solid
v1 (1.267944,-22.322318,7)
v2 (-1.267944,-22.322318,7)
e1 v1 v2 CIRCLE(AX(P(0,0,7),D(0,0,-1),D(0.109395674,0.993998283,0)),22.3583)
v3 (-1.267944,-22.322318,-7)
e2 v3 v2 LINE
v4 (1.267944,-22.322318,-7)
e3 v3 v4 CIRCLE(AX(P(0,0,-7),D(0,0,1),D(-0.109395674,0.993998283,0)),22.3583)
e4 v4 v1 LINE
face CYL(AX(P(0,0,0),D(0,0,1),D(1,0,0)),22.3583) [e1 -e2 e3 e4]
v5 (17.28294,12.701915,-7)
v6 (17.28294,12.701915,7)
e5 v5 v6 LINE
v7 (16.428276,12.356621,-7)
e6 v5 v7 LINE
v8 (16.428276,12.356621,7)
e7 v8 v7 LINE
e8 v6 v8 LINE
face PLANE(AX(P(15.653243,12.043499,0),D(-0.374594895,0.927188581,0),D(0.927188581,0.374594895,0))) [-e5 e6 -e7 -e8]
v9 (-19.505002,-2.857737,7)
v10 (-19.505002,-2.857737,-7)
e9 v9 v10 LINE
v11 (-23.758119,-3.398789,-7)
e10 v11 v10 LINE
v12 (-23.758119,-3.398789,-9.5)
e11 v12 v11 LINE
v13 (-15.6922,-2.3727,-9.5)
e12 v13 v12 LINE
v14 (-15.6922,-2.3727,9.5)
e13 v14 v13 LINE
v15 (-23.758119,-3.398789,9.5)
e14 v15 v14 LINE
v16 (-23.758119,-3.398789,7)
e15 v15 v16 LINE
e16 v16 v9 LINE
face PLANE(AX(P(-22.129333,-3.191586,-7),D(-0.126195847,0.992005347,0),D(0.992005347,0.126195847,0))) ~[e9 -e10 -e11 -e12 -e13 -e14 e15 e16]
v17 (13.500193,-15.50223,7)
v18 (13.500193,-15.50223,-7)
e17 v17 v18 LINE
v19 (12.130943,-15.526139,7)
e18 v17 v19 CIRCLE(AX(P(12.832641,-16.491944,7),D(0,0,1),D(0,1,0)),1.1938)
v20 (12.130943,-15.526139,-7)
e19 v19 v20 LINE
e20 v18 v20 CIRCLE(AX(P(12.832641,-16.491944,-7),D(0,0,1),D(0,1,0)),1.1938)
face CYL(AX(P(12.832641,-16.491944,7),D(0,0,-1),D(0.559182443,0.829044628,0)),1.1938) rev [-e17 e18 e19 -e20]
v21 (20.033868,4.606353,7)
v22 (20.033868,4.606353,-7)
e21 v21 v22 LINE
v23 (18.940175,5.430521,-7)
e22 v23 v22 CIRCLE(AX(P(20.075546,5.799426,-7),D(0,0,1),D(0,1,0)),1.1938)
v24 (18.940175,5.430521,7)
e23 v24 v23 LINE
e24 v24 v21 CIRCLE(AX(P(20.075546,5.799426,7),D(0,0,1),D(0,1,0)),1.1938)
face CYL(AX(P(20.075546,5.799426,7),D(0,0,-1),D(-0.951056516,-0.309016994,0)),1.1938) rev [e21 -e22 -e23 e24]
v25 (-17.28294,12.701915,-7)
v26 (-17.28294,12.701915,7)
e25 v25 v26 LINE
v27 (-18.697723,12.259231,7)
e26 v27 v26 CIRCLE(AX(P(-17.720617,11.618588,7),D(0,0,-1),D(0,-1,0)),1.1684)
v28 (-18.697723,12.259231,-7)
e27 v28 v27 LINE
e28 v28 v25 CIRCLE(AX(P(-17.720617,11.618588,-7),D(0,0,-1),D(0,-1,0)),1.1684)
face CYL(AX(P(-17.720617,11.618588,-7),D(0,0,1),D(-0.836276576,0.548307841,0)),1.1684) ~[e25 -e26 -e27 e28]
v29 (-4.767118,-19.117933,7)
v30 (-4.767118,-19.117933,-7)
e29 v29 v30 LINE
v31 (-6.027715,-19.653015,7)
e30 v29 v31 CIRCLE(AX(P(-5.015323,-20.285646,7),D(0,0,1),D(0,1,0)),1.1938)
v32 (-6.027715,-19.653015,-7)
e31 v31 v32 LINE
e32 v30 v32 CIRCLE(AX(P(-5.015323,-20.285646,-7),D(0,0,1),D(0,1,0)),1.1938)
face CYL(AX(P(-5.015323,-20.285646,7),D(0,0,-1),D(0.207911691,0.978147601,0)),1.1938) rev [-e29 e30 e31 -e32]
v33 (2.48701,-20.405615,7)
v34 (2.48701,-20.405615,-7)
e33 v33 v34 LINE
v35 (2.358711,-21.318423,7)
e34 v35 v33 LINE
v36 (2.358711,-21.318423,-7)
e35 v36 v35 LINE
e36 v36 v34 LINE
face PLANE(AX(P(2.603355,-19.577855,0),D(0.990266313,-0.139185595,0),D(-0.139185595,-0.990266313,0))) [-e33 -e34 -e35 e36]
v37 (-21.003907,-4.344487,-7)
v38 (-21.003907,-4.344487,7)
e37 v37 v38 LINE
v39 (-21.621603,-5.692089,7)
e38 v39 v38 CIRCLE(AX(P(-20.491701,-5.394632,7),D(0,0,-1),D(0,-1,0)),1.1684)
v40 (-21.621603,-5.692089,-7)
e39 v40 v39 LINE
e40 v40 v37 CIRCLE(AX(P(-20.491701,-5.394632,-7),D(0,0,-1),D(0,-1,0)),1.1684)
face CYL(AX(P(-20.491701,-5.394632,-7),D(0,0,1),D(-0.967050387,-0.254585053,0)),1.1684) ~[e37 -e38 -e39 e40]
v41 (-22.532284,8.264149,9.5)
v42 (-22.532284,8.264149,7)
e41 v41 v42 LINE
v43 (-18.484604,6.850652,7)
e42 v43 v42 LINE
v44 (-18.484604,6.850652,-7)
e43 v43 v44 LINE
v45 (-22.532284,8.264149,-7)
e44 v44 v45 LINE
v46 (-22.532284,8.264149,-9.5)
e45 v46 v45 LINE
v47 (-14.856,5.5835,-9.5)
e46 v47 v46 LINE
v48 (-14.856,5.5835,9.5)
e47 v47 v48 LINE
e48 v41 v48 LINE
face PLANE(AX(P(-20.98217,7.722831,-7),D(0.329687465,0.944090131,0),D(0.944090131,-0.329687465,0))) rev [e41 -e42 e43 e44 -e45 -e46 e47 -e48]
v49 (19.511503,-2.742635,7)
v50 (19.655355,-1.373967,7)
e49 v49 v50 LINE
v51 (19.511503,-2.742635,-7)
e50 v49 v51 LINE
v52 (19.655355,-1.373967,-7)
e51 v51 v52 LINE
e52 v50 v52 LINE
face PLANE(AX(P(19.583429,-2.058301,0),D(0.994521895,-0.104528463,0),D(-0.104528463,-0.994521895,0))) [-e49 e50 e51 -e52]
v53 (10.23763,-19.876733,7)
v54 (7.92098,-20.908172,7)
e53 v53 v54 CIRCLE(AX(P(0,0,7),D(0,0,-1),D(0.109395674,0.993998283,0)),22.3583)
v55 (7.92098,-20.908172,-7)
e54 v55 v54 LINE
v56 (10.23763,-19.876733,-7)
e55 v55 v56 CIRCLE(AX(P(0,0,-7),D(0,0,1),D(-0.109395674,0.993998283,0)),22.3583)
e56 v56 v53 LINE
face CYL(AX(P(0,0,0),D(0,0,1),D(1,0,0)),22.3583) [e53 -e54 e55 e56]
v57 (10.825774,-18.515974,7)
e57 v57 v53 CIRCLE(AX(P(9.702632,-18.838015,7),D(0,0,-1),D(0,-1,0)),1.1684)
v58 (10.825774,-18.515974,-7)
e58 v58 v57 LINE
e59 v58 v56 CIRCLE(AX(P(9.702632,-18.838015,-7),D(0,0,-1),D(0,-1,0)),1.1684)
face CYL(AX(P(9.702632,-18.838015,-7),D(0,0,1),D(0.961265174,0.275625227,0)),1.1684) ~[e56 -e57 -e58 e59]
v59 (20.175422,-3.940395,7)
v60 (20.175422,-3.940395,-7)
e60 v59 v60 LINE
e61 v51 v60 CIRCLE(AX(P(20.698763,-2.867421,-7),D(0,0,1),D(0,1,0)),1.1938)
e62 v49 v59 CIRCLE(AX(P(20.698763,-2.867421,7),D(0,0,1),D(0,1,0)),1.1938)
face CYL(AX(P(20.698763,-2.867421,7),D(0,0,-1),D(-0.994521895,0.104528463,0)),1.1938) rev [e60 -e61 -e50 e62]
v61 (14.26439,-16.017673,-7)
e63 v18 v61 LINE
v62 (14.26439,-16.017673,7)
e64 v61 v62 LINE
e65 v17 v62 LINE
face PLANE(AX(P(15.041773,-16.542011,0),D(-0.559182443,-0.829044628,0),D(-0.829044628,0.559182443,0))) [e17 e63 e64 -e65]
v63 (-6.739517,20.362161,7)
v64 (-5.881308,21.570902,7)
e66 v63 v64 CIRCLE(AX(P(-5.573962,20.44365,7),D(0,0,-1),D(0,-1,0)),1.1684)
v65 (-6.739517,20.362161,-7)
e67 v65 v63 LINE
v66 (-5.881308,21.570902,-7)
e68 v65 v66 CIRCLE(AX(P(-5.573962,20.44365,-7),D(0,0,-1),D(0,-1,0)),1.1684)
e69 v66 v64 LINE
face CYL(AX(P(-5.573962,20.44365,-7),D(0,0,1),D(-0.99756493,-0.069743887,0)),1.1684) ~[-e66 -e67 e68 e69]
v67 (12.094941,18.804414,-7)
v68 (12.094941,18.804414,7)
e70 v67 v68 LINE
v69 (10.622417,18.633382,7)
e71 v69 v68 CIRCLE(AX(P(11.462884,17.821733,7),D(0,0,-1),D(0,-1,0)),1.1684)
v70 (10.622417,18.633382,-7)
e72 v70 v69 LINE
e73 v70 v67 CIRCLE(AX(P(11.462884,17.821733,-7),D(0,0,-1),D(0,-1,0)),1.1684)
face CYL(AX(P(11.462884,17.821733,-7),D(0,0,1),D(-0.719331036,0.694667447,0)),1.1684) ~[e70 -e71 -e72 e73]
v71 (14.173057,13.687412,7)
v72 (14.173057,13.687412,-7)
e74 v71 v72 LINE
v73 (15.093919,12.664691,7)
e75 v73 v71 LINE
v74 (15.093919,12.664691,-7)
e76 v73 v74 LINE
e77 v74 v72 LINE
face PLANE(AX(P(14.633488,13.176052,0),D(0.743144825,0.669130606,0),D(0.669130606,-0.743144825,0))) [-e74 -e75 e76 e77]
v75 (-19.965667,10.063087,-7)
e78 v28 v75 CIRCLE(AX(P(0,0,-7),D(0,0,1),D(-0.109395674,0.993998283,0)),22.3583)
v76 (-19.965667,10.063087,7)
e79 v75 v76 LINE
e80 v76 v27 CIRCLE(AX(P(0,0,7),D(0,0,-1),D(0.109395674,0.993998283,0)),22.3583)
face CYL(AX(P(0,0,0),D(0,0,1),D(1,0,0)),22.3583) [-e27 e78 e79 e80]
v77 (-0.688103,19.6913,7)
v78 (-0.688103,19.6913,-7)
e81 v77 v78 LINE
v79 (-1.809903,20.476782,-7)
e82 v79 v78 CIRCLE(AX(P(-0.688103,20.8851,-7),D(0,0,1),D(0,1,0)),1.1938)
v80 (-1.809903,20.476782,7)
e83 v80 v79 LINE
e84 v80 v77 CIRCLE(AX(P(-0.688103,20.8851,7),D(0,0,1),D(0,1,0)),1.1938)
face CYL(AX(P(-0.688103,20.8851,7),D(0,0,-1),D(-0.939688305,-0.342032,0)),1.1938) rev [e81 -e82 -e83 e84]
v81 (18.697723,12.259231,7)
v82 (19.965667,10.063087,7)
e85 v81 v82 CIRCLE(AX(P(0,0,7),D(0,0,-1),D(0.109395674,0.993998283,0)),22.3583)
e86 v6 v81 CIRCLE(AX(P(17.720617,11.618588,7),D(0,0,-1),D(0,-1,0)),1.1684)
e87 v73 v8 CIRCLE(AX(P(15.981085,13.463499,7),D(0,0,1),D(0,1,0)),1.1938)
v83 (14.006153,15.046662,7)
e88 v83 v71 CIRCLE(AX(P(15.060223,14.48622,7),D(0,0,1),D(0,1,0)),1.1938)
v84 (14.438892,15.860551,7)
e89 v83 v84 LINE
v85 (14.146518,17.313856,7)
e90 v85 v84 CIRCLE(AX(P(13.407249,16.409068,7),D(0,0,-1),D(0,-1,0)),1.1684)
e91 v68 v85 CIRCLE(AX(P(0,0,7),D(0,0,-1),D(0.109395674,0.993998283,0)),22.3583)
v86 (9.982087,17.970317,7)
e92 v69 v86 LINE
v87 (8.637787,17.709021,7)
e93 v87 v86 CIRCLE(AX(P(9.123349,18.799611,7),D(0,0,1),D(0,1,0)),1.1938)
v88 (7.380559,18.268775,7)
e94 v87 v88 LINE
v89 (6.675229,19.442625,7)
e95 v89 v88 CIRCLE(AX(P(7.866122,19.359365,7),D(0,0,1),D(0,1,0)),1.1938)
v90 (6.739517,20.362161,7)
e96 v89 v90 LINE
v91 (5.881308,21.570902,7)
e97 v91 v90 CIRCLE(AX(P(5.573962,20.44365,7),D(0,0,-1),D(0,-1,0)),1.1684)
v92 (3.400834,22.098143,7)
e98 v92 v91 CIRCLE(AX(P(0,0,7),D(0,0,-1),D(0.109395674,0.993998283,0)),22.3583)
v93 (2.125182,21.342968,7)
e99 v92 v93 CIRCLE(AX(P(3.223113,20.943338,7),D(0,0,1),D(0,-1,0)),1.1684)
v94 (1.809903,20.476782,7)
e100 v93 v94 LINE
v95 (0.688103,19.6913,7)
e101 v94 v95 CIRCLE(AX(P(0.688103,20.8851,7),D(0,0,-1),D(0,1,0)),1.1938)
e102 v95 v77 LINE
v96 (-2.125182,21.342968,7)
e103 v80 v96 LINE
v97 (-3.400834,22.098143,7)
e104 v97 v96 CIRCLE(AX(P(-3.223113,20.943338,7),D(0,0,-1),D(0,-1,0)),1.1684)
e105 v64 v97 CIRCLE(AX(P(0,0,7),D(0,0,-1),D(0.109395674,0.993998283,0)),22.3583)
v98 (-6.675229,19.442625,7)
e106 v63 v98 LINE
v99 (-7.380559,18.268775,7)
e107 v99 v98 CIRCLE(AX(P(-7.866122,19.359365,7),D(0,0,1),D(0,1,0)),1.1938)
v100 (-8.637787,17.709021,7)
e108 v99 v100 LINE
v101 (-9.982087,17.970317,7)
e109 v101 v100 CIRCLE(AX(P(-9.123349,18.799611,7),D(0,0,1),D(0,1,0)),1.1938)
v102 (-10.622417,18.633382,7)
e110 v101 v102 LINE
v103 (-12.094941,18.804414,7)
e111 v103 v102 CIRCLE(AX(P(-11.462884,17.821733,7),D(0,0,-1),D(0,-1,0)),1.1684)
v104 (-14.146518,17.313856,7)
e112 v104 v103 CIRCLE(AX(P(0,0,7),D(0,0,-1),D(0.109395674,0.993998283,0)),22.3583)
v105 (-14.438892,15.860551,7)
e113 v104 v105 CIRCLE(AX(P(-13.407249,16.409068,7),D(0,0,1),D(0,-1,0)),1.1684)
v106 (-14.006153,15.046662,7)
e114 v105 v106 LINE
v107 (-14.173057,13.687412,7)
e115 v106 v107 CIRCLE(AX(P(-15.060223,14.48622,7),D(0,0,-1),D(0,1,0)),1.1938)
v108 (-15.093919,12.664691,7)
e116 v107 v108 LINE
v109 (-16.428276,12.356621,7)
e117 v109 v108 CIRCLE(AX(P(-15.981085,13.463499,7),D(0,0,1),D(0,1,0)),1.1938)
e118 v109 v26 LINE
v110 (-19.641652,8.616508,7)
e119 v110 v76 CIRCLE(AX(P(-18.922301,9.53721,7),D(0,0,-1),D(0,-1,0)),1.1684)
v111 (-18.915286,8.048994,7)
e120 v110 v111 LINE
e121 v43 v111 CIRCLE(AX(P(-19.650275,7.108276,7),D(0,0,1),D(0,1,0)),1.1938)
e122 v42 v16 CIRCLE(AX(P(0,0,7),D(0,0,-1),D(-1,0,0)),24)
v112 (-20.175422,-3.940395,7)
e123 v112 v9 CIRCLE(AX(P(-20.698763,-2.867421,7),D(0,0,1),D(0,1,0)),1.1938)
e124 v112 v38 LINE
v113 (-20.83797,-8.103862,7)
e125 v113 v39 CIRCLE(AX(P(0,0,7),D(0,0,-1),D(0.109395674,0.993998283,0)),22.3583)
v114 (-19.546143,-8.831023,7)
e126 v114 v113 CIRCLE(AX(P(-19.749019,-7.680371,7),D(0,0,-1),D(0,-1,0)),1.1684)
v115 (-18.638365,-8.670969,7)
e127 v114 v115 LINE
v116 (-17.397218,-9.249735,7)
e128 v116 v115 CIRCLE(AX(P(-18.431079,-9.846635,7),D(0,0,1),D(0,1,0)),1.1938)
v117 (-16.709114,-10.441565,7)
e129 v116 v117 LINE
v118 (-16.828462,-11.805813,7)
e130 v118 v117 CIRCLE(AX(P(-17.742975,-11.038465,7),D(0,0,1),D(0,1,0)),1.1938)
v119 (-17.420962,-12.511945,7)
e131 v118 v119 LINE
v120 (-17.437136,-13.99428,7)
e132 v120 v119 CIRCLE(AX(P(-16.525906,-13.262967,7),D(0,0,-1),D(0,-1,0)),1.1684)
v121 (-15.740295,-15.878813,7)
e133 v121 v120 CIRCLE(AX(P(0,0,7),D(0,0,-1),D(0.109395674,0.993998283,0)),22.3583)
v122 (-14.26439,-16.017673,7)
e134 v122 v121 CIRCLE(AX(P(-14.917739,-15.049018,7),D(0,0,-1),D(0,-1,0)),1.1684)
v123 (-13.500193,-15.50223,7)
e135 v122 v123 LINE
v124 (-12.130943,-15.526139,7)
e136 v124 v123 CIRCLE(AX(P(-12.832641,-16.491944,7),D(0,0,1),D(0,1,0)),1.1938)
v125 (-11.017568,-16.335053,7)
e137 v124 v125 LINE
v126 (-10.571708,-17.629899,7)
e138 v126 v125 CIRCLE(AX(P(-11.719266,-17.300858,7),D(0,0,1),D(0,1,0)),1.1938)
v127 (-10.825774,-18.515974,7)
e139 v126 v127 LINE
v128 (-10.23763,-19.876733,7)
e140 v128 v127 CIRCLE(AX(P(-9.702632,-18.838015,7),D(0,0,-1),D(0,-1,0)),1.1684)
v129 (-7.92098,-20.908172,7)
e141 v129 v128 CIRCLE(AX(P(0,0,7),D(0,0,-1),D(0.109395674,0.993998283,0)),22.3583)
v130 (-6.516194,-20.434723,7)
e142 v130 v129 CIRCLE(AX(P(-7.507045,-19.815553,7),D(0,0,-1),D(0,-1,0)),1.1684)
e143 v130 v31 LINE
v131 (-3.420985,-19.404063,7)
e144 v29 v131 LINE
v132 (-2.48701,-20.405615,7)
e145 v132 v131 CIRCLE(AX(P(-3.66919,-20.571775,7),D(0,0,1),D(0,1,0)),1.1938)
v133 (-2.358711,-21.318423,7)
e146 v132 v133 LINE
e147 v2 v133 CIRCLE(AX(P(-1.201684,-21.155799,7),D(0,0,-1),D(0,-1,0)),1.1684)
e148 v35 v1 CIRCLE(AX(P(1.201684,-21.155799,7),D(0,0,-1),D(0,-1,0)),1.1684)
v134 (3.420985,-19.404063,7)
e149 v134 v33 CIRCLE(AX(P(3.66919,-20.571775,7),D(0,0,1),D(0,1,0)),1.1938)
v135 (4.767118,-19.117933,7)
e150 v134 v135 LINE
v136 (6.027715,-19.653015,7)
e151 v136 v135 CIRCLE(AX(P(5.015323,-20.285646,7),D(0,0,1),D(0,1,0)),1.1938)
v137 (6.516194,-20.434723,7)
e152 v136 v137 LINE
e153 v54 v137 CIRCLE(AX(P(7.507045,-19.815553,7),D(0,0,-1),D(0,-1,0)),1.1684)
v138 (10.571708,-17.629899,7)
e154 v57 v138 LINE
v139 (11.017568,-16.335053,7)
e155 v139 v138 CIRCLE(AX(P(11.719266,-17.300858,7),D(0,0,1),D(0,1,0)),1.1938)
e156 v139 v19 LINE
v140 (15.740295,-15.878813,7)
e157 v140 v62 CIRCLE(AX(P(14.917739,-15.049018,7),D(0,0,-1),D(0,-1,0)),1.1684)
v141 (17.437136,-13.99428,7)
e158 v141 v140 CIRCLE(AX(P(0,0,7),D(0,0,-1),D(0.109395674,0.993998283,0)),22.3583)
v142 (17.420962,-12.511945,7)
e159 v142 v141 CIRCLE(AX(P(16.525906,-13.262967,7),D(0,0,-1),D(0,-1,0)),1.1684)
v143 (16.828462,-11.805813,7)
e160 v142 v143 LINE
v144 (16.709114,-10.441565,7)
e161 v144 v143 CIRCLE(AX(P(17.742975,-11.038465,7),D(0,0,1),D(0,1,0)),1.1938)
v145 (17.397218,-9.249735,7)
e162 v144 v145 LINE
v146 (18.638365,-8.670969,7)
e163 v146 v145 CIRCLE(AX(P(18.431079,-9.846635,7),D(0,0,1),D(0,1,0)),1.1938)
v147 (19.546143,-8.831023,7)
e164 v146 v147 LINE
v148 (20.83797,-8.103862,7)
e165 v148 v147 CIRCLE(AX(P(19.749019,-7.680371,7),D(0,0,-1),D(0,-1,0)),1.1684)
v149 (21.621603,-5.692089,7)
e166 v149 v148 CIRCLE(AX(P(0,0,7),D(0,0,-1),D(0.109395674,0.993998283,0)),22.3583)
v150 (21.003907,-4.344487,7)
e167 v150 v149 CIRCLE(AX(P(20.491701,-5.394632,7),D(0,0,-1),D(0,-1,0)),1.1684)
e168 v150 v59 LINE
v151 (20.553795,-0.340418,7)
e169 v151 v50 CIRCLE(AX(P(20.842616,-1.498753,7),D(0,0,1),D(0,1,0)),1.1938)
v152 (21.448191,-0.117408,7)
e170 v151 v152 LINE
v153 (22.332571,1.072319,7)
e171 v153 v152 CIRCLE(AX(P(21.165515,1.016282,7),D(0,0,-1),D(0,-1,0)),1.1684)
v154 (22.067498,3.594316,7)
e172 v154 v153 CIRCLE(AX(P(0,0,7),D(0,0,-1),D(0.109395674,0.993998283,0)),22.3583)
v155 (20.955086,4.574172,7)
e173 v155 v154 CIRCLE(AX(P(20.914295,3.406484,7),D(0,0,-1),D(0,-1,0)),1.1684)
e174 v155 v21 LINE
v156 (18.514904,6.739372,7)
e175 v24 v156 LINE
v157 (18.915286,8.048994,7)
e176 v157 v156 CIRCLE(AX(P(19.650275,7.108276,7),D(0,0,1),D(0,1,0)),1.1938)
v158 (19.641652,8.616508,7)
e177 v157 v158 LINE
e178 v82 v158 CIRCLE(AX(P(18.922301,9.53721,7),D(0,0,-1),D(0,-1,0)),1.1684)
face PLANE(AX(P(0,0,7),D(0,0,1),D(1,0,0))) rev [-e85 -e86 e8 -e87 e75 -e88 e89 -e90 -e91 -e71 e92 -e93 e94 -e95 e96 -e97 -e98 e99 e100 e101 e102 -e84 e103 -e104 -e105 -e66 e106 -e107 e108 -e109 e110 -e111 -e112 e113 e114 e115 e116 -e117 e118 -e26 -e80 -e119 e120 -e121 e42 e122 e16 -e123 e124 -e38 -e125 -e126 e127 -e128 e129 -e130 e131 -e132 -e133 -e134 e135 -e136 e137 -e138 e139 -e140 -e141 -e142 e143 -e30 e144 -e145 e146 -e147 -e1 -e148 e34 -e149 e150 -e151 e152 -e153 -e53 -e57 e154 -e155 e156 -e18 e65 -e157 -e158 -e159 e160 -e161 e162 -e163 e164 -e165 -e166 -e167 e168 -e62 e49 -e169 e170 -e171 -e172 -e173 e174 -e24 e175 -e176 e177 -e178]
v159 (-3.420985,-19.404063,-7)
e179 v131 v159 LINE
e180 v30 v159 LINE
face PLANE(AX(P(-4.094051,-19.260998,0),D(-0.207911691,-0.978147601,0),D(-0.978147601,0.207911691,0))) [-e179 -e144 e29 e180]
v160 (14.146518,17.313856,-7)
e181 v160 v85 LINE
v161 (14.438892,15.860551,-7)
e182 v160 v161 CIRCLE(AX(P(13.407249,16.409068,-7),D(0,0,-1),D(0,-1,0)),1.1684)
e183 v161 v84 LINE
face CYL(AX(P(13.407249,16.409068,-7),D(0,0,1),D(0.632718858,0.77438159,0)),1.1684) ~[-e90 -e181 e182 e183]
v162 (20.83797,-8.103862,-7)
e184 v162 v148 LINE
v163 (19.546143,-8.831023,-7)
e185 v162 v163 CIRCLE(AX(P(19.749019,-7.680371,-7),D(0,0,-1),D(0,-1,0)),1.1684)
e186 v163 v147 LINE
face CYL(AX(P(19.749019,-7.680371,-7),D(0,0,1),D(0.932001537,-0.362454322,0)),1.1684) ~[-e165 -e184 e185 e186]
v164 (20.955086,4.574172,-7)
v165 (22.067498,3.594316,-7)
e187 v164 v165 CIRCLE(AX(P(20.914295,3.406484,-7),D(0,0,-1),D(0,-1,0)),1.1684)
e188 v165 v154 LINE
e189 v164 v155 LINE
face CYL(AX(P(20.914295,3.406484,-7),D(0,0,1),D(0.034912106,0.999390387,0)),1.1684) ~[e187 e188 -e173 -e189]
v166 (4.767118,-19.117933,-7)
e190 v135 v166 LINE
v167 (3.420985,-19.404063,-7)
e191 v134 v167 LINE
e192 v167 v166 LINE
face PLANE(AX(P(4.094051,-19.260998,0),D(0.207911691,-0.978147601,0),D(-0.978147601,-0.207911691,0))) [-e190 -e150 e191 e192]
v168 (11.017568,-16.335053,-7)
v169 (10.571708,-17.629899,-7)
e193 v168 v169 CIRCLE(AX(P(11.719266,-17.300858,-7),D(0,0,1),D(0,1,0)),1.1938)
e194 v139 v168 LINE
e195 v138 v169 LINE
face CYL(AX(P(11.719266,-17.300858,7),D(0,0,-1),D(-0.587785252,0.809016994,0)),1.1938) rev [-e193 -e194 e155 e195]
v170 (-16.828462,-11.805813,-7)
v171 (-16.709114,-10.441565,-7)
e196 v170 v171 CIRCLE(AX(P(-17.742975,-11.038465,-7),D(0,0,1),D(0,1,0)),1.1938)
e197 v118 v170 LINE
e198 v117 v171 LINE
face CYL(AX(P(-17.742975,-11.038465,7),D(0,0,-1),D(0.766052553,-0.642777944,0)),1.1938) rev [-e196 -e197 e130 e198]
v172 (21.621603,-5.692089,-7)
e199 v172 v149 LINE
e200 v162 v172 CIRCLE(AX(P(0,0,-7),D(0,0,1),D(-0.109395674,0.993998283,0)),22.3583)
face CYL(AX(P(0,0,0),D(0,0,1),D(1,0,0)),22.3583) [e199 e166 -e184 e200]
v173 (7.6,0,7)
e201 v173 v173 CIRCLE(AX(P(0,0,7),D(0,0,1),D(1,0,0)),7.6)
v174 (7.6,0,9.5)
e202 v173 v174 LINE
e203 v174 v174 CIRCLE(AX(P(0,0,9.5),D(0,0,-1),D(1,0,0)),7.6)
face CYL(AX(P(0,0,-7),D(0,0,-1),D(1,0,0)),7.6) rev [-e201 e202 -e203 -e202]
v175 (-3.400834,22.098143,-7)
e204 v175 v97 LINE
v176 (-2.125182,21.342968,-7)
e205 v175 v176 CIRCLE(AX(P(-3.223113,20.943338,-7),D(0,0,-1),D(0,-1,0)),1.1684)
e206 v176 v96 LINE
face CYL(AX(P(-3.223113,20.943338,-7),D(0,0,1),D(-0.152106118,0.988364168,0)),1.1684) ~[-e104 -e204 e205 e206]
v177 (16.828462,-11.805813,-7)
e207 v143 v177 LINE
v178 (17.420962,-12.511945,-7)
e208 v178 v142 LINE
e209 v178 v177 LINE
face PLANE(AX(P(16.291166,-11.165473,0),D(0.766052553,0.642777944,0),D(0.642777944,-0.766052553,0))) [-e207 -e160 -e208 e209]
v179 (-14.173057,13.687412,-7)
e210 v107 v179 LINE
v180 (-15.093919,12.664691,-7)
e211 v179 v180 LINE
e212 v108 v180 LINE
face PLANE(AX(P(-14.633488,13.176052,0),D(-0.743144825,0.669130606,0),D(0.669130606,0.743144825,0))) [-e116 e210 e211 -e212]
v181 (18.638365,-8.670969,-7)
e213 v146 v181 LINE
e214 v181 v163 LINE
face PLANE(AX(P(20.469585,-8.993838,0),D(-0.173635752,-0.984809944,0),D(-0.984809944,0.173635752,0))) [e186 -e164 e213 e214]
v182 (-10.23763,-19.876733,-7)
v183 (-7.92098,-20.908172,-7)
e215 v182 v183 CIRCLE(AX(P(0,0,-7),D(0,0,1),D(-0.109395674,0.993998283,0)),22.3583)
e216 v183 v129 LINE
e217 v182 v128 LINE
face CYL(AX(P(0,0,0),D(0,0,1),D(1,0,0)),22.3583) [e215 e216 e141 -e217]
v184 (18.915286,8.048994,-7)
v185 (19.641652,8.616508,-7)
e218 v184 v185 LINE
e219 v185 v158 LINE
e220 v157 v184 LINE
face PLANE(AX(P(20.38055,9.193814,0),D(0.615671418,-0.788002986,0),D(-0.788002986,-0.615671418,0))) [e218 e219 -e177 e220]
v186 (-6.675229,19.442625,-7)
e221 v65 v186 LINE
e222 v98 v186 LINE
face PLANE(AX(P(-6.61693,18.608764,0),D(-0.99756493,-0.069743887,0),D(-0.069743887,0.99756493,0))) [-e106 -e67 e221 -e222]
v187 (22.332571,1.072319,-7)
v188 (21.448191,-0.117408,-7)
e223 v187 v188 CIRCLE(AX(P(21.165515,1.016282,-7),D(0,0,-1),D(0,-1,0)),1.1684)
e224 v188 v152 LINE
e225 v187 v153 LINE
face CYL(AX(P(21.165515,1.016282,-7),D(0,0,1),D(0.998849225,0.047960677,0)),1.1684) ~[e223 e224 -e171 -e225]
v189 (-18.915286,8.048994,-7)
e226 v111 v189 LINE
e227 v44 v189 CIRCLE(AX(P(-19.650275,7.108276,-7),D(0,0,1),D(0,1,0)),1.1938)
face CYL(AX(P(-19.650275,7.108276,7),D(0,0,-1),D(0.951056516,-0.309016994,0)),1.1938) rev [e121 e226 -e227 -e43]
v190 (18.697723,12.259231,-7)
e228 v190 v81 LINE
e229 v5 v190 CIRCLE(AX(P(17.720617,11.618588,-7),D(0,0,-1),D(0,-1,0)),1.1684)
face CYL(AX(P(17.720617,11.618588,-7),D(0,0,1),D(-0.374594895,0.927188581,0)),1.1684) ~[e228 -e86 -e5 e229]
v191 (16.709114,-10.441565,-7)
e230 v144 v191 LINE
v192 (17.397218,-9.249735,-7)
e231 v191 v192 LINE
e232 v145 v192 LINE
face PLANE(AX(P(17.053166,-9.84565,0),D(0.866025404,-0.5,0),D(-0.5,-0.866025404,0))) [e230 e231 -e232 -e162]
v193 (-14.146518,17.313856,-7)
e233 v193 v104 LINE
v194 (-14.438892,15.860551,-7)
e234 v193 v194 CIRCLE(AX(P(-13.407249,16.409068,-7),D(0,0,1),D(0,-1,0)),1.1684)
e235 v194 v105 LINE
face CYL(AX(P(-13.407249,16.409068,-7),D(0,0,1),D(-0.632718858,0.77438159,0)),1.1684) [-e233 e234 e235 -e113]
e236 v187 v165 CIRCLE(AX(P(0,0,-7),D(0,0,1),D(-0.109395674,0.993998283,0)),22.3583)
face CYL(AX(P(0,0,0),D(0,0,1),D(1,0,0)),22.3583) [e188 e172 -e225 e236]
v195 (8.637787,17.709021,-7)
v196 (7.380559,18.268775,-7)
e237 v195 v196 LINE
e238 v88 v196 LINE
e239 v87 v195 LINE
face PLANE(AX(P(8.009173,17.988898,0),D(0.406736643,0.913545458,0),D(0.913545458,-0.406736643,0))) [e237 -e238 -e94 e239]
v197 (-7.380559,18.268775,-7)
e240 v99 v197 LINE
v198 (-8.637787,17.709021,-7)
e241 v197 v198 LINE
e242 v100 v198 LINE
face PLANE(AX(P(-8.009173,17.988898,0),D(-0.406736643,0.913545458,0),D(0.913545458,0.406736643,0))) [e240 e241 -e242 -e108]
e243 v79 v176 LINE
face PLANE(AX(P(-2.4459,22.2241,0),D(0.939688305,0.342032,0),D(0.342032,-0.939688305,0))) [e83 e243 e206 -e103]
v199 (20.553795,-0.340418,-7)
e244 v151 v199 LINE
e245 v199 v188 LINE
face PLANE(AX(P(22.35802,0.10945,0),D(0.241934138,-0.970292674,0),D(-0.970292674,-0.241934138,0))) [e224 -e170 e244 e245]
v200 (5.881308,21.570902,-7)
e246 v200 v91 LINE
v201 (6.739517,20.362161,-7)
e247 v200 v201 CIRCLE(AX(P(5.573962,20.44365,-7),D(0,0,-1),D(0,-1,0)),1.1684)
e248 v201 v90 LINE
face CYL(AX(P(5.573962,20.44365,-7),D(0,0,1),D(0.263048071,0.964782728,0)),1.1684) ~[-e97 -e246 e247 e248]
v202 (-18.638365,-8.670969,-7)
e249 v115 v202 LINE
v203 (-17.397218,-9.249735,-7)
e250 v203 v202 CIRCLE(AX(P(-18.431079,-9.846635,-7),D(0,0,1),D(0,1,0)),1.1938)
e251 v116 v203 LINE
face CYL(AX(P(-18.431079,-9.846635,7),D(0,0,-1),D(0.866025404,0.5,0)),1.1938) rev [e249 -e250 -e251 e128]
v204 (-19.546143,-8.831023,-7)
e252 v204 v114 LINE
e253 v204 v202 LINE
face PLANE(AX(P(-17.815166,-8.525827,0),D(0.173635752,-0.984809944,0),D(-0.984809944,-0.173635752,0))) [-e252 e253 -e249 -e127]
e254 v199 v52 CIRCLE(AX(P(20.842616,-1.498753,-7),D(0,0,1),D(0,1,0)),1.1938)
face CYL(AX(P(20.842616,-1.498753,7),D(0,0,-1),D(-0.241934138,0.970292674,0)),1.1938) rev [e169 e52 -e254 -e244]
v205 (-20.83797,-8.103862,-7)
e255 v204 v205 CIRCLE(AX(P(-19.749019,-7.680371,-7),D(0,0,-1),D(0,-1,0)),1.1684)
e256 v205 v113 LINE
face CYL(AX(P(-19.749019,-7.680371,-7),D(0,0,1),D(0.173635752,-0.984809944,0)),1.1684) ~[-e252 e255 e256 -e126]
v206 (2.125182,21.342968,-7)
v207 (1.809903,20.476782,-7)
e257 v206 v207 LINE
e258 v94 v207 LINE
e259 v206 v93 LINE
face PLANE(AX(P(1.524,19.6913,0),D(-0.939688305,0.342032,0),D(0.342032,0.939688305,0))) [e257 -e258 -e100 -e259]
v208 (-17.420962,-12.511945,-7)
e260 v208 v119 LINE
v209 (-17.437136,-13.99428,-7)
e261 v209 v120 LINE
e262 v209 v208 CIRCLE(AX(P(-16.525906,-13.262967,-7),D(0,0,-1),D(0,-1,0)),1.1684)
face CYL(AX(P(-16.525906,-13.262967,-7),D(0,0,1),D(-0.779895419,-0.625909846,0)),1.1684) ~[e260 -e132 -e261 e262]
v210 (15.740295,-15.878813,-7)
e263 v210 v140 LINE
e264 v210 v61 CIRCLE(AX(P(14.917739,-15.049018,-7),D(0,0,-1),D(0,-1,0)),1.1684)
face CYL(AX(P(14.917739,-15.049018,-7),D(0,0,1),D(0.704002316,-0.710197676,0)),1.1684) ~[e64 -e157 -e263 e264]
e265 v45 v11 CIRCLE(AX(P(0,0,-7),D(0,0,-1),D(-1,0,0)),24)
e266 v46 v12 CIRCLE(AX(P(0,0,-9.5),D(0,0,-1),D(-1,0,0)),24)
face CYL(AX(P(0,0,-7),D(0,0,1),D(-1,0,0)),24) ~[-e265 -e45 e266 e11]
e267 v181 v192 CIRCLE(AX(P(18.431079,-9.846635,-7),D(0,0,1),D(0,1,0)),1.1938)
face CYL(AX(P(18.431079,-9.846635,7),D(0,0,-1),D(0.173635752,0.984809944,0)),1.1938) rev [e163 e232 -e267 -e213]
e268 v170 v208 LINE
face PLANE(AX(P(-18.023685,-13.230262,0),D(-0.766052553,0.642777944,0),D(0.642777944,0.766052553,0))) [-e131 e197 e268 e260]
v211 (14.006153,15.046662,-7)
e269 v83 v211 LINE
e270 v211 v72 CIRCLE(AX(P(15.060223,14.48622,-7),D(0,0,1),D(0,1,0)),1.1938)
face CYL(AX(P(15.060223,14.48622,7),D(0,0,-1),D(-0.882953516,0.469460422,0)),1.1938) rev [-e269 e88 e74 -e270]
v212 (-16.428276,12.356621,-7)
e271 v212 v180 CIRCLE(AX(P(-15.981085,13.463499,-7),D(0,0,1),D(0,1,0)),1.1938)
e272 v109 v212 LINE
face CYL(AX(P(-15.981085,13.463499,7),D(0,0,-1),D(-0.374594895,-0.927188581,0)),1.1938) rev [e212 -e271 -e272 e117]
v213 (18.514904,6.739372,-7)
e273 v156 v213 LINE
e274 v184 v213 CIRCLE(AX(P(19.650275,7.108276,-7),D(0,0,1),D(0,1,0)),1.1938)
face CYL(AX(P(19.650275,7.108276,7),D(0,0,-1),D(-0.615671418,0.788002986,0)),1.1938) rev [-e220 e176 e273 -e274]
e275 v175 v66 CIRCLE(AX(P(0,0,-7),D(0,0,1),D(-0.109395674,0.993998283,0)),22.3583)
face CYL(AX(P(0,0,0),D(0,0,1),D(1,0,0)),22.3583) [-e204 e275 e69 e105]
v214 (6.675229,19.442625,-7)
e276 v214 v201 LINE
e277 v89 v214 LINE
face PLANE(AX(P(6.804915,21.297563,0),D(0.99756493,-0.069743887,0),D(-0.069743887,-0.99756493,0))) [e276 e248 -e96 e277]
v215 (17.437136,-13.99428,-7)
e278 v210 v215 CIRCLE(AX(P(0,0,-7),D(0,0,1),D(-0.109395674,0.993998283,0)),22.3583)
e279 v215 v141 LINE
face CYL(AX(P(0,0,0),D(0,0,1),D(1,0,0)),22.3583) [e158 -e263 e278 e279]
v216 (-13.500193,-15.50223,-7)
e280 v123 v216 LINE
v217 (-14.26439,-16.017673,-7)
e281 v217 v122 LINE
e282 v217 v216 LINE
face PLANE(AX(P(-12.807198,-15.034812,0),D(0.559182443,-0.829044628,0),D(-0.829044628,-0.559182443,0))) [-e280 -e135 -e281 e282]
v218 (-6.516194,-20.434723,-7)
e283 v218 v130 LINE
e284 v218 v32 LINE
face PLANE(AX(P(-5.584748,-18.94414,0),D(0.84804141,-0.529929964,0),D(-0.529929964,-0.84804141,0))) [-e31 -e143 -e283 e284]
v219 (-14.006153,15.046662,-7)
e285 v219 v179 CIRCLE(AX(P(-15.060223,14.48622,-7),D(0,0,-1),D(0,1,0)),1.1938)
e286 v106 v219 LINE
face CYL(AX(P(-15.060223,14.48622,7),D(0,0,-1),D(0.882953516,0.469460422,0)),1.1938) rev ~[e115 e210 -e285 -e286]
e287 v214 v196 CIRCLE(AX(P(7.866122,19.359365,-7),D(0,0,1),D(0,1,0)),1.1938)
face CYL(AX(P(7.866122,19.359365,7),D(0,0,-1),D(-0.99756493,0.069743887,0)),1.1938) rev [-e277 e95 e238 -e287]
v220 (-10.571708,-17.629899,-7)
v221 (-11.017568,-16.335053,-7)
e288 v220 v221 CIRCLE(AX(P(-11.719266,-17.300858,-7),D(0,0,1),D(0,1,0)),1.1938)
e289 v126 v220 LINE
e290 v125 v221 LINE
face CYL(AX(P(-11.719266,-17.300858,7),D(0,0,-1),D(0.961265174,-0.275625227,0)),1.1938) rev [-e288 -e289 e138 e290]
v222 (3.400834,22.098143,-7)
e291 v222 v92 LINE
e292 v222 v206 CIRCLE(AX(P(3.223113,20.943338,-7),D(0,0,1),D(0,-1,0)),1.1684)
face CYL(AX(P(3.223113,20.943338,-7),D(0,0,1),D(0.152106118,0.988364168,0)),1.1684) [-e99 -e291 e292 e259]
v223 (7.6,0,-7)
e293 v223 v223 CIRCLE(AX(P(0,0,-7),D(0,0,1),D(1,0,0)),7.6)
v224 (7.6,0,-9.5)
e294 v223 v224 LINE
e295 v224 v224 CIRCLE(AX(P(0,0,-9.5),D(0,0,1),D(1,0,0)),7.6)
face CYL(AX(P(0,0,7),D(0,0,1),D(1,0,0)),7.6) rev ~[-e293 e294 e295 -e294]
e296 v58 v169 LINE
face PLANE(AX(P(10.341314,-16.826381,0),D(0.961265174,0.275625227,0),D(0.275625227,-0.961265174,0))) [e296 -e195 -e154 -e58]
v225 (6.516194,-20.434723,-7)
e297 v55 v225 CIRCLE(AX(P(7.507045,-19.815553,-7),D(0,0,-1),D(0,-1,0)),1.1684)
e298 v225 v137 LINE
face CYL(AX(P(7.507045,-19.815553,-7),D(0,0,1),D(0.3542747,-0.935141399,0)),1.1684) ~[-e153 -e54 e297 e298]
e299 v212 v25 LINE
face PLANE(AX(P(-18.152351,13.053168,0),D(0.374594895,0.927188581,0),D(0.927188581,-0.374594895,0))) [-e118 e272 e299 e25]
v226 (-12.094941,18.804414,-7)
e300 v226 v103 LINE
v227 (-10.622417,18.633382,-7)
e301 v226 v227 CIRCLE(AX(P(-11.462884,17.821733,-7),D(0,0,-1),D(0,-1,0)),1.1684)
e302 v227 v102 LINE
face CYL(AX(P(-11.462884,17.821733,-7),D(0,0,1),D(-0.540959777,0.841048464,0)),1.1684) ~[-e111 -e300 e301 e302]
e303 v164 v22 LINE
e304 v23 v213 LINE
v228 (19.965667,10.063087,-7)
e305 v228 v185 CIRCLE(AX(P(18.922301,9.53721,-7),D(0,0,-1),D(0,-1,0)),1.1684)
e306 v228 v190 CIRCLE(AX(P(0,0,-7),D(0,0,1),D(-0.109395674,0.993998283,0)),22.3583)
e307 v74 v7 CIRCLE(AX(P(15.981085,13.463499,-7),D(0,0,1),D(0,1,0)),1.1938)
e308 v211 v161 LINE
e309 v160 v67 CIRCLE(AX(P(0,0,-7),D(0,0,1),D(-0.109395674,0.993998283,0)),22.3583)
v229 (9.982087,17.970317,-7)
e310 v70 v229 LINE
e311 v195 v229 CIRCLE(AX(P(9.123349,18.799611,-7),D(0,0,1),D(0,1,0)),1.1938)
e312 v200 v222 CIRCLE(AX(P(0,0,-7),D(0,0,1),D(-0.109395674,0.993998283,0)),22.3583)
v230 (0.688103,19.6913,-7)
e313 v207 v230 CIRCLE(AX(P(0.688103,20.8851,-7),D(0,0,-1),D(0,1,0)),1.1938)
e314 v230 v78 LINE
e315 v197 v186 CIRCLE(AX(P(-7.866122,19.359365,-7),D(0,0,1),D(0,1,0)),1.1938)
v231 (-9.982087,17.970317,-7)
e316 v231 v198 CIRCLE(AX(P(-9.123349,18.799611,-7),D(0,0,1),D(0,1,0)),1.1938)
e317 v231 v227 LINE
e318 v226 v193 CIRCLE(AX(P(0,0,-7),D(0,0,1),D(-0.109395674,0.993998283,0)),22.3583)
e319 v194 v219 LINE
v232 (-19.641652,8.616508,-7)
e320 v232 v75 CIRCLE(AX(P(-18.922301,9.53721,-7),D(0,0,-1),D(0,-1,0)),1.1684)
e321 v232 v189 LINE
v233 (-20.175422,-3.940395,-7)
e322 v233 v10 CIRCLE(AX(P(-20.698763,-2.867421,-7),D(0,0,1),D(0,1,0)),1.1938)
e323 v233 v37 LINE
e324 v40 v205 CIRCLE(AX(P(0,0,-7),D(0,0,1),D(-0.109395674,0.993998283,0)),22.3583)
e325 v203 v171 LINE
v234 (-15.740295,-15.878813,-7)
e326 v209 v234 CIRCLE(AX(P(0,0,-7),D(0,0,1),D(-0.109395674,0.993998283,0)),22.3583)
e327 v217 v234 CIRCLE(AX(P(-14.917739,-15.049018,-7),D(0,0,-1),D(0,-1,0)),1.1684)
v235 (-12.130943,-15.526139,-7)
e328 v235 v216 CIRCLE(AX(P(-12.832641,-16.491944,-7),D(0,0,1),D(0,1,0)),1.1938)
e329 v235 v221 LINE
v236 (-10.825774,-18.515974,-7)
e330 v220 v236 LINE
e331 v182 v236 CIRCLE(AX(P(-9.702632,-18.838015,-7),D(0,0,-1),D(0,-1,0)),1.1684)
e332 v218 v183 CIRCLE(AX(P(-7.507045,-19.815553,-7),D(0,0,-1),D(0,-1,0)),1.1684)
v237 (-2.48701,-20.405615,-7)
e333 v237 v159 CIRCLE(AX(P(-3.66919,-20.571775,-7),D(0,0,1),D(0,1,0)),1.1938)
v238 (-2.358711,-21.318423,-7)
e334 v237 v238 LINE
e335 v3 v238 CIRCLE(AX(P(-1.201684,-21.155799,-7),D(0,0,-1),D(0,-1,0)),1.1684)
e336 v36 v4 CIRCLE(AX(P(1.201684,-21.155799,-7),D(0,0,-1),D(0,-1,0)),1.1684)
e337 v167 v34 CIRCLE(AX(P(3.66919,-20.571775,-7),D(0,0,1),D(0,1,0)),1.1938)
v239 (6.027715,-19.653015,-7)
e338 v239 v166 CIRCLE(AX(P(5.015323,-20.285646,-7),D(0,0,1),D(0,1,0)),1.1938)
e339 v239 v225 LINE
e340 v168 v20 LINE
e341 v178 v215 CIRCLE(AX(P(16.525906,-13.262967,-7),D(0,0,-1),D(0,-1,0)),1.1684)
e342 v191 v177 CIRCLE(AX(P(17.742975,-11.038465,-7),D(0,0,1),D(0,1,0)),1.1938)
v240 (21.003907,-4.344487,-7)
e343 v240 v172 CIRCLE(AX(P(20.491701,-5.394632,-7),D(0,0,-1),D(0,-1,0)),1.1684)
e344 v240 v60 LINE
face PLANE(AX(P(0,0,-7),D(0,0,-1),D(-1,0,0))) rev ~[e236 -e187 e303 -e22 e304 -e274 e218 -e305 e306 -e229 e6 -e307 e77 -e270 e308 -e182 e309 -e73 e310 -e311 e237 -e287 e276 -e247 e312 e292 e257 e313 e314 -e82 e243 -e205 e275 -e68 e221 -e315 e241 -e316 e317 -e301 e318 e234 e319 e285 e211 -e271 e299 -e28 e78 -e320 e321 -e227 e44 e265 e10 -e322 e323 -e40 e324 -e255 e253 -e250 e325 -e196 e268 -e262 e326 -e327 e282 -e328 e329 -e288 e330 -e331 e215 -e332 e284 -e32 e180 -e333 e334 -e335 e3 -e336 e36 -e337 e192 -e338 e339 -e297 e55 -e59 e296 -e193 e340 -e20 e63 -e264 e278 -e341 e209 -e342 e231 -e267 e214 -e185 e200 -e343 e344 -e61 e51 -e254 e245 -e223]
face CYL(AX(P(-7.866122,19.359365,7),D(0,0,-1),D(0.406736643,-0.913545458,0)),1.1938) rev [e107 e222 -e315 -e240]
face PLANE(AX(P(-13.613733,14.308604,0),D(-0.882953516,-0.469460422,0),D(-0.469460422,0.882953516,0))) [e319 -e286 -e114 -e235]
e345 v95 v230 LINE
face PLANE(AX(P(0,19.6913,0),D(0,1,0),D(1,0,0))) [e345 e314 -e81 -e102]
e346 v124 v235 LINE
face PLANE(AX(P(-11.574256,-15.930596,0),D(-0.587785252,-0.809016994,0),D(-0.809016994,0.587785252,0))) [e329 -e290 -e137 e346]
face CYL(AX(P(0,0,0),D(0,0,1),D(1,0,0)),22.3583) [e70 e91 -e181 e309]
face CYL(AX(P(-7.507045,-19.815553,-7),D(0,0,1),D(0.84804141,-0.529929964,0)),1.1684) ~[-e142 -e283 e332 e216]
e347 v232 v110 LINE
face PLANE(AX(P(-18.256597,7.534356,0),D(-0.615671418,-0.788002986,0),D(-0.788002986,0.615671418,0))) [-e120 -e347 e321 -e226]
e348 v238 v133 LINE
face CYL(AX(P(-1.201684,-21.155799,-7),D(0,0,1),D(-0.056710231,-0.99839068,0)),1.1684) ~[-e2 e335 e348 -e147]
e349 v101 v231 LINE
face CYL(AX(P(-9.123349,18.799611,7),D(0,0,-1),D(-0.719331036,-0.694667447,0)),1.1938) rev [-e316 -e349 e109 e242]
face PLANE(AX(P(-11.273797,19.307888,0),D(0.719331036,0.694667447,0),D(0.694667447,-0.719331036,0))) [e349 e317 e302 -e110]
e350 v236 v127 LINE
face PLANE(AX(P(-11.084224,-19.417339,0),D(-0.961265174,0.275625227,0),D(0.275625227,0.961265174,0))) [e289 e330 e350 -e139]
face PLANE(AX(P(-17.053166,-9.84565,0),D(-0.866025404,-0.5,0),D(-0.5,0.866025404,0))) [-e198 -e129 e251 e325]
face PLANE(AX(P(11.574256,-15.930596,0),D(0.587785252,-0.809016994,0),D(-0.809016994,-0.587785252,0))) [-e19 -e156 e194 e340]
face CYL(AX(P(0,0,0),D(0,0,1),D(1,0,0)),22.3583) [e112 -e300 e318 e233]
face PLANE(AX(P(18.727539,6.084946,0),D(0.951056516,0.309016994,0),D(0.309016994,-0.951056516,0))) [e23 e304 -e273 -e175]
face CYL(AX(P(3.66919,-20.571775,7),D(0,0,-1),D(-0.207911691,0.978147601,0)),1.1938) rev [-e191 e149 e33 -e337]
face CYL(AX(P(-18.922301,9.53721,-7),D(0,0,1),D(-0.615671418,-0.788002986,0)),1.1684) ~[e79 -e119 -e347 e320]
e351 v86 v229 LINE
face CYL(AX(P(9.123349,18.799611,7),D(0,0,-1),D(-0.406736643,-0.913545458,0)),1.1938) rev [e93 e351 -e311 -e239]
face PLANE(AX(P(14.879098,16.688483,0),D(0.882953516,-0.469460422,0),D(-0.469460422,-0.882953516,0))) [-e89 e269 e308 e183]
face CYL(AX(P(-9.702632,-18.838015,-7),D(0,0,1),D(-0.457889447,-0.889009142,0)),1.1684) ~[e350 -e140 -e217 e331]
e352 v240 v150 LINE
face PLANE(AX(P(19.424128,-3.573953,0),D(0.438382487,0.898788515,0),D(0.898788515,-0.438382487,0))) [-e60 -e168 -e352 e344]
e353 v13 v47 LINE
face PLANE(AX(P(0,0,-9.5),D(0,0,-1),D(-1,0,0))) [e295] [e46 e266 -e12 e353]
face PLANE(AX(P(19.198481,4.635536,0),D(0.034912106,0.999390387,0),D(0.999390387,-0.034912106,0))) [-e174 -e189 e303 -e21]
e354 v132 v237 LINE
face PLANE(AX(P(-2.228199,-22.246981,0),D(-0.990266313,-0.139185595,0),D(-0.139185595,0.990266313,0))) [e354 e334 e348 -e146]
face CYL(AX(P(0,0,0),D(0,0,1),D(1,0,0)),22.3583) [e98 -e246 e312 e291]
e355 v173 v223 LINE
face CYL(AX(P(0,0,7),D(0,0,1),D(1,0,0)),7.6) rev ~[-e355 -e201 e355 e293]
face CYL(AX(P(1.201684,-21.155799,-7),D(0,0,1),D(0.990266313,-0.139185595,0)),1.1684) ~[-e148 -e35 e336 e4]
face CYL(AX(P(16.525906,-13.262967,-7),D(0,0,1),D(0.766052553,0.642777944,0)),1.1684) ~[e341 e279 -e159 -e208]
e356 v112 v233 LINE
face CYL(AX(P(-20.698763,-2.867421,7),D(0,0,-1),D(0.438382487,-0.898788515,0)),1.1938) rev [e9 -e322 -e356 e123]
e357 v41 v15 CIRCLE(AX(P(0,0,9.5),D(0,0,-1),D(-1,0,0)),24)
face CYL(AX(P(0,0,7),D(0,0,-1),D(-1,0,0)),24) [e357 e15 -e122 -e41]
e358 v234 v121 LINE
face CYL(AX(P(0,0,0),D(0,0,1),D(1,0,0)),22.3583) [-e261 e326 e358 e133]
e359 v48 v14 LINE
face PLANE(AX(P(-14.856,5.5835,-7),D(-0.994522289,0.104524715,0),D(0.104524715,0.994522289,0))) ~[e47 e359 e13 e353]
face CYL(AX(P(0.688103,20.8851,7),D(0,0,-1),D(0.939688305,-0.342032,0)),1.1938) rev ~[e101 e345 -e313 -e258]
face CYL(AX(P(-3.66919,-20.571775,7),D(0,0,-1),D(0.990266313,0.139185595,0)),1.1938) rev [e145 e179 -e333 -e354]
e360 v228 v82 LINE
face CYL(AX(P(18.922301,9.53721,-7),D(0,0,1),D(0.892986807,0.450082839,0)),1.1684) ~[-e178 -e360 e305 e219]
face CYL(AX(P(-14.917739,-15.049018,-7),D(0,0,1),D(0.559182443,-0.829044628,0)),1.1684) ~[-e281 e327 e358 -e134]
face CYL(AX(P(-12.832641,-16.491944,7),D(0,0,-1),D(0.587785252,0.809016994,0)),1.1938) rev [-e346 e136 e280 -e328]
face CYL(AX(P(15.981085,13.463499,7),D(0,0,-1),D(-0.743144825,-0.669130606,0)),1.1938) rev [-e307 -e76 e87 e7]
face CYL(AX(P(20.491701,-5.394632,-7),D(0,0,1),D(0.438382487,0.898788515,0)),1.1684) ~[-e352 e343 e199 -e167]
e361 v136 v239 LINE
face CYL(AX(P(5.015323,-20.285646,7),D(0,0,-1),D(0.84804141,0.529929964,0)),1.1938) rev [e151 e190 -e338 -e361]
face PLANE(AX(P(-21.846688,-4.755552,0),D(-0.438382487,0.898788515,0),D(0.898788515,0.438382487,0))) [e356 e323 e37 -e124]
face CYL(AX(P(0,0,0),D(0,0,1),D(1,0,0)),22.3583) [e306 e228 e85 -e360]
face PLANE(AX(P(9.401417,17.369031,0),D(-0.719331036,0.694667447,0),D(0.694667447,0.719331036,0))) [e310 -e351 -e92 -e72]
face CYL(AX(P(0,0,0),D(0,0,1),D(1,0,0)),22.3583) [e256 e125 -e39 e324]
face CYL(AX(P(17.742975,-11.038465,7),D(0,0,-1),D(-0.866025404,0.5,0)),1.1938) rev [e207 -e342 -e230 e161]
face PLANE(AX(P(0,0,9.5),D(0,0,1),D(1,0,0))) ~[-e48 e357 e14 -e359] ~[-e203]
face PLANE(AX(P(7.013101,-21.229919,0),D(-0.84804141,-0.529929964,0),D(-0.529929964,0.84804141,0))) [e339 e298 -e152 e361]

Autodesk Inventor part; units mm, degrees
ref_plane "YZ Plane" through (0, 0, 0) normal (1, 0, 0) x (0, 1, 0)
ref_plane "XZ Plane" through (0, 0, 0) normal (0, 1, 0) x (-1, 0, 0)
sketch "プーリ スケッチ" plane through (0, 0, 0) normal (0, 0, 1) x (1, 0, 0)
  circle A0 centre (0, 0) radius 22.7393 construction
  circle A1 centre (0, 0) radius 22.3583
  circle A2 centre (0, 0) radius 19.6913
  line L0 (-2.4459, 22.2241) -> (-1.524, 19.6913)
  line L1 (-1.524, 19.6913) -> (1.524, 19.6913)
  line L2 (1.524, 19.6913) -> (2.4459, 22.2241)
  line L3 (0, 0) -> (0, 22.3583) construction
  point P0 (0, 19.6913)
  dimension "d0" = 45.4785
  dimension "d1" = 0.381
  dimension "d2" = 2.667
  dimension "d3" = 40
  dimension "d4" = 3.048
extrude "基本ボディ" add sketch "プーリ スケッチ" along normal mid plane 14 contours A2 | A1 L0 L1 L2 | L2 L1 L0 A1
extrude "歯" cut sketch "プーリ スケッチ" along normal through all both and the other way through all contours L2 L1 L0 A1 picked at (0, 21.4594)
fillet "Fillet" radius 1.1938 2 edges at (1.524, 19.6913, 0) (-1.524, 19.6913, 0)
fillet "Fillet" radius 1.1684 4 edges at (-2.4459, 22.2241, 3.5) (-2.4459, 22.2241, -3.5) (2.4459, 22.2241, 3.5) (2.4459, 22.2241, -3.5)
pattern_circular "Teeth" count 15 over 360 about axis through (0, 0, -10) along (0, 0, 1) of "歯", "Fillet"
sketch "スケッチ3" plane through (0, 0, -7) normal (0, 0, -1) x (-1, 0, 0)
  circle A0 centre (0, 0) radius 24
  dimension "d18" = 48
extrude "押し出し3" add sketch "スケッチ3" along normal blind 2.5
sketch "スケッチ4" plane through (0, 0, 7) normal (0, 0, 1) x (1, 0, 0)
  circle A0 centre (0, 0) radius 7.6
  circle A1 centre (0, 0) radius 14.5
  circle A2 centre (0, -14.5) radius 1.6
  circle A3 centre (0, 14.5) radius 1.6
  dimension "d22" = 29
  dimension "d21" = 15.2
  dimension "d23" = 3.2
  dimension "d26" = 360
extrude "押し出し4" cut sketch "スケッチ4" against normal through all contours A0
sketch "スケッチ5" plane through (0, 0, 7) normal (0, 0, 1) x (1, 0, 0)
  arc A0 (-22.0675, 3.5943) -> (-22.3325, 1.0723) centre (0, 0) ccw projected
  circle A1 centre (0, 0) radius 22.3583
  line L0 (-22.3325, 1.0723) -> (-22.0675, 3.5943)
  line L1 (-22.4327, 0.4636) -> (-21.9228, 5.3144)
  line L2 (-22.6539, -1.641) -> (-21.8177, 6.3152)
  line L3 (-21.8177, 6.3152) -> (-14.856, 5.5835)
  line L4 (-14.856, 5.5835) -> (-15.6922, -2.3727)
  line L5 (-15.6922, -2.3727) -> (-22.6539, -1.641)
  circle A2 centre (0, 0) radius 27.4737
  line L6 (-14.856, 5.5835) -> (-25.8121, 9.4095)
  line L7 (-22.2, 2.3333) -> (0, 0)
  line L8 (-15.6922, -2.3727) -> (-27.2044, -3.8372)
  point P0 (-27.2044, -3.8372)
  dimension "d30" = 7
  dimension "d31" = 8
  dimension "d32" = 4
  dimension "d33" = 13.25
extrude "押し出し5" cut sketch "スケッチ5" against normal through all contours L0 A0 | A0 L1 L2 L3 A1 | A1 L3 L4 L7 L0 | A0 A1 L5 L2 L1 | L1 L2 L5 A1 L8 A2 L6 L3 | A1 L6 L3 | L7 L4 L5 A1 L0 | L5 L8 A1
sketch "スケッチ6" plane through (0, 0, -9.5) normal (0, 0, -1) x (-1, 0, 0)
  line L0 (14.856, 5.5835) -> (22.5323, 8.2641) projected
  arc A0 (22.5323, 8.2641) -> (23.7581, -3.3988) centre (0, 0) ccw projected
  line L1 (23.7581, -3.3988) -> (15.6922, -2.3727) projected
  line L2 (15.6922, -2.3727) -> (14.856, 5.5835) projected
  circle A1 centre (0, 0) radius 7.6 projected
ref_plane "作業平面1" through (0, 0, 0) normal (0, 0, 1) x (1, 0, 0)
mirror "ミラー1" about plane through (0, 0, 0) normal (0, 0, 1) of "押し出し3", "押し出し4", "押し出し5"
equation "\"d1\" = da_a"
equation "\"d2\" = da_hg"
equation "\"d3\" = 2 * da_fi"
equation "\"d4\" = da_bw"
equation "\"d5\" = da_bf"
equation "\"d7\" = da_bf"
equation "\"d9\" = da_rb"
equation "\"d10\" = da_rt"
equation "\"da_pb\" = 9.525"
equation "\"da_fi\" = 20deg"
equation "\"da_hg\" = 2.667"
equation "\"da_bw\" = 3.048"
equation "\"da_rb\" = 1.1938"
equation "\"da_rt\" = 1.1684"
equation "\"da_a\" = 0.381"
equation "\"da_bf\" = 14"
equation "\"da_wf\" = 1.27"
equation "\"da_hf\" = 1.651"
properties part number "歯付きプーリ1" material "ABS プラスチック"
